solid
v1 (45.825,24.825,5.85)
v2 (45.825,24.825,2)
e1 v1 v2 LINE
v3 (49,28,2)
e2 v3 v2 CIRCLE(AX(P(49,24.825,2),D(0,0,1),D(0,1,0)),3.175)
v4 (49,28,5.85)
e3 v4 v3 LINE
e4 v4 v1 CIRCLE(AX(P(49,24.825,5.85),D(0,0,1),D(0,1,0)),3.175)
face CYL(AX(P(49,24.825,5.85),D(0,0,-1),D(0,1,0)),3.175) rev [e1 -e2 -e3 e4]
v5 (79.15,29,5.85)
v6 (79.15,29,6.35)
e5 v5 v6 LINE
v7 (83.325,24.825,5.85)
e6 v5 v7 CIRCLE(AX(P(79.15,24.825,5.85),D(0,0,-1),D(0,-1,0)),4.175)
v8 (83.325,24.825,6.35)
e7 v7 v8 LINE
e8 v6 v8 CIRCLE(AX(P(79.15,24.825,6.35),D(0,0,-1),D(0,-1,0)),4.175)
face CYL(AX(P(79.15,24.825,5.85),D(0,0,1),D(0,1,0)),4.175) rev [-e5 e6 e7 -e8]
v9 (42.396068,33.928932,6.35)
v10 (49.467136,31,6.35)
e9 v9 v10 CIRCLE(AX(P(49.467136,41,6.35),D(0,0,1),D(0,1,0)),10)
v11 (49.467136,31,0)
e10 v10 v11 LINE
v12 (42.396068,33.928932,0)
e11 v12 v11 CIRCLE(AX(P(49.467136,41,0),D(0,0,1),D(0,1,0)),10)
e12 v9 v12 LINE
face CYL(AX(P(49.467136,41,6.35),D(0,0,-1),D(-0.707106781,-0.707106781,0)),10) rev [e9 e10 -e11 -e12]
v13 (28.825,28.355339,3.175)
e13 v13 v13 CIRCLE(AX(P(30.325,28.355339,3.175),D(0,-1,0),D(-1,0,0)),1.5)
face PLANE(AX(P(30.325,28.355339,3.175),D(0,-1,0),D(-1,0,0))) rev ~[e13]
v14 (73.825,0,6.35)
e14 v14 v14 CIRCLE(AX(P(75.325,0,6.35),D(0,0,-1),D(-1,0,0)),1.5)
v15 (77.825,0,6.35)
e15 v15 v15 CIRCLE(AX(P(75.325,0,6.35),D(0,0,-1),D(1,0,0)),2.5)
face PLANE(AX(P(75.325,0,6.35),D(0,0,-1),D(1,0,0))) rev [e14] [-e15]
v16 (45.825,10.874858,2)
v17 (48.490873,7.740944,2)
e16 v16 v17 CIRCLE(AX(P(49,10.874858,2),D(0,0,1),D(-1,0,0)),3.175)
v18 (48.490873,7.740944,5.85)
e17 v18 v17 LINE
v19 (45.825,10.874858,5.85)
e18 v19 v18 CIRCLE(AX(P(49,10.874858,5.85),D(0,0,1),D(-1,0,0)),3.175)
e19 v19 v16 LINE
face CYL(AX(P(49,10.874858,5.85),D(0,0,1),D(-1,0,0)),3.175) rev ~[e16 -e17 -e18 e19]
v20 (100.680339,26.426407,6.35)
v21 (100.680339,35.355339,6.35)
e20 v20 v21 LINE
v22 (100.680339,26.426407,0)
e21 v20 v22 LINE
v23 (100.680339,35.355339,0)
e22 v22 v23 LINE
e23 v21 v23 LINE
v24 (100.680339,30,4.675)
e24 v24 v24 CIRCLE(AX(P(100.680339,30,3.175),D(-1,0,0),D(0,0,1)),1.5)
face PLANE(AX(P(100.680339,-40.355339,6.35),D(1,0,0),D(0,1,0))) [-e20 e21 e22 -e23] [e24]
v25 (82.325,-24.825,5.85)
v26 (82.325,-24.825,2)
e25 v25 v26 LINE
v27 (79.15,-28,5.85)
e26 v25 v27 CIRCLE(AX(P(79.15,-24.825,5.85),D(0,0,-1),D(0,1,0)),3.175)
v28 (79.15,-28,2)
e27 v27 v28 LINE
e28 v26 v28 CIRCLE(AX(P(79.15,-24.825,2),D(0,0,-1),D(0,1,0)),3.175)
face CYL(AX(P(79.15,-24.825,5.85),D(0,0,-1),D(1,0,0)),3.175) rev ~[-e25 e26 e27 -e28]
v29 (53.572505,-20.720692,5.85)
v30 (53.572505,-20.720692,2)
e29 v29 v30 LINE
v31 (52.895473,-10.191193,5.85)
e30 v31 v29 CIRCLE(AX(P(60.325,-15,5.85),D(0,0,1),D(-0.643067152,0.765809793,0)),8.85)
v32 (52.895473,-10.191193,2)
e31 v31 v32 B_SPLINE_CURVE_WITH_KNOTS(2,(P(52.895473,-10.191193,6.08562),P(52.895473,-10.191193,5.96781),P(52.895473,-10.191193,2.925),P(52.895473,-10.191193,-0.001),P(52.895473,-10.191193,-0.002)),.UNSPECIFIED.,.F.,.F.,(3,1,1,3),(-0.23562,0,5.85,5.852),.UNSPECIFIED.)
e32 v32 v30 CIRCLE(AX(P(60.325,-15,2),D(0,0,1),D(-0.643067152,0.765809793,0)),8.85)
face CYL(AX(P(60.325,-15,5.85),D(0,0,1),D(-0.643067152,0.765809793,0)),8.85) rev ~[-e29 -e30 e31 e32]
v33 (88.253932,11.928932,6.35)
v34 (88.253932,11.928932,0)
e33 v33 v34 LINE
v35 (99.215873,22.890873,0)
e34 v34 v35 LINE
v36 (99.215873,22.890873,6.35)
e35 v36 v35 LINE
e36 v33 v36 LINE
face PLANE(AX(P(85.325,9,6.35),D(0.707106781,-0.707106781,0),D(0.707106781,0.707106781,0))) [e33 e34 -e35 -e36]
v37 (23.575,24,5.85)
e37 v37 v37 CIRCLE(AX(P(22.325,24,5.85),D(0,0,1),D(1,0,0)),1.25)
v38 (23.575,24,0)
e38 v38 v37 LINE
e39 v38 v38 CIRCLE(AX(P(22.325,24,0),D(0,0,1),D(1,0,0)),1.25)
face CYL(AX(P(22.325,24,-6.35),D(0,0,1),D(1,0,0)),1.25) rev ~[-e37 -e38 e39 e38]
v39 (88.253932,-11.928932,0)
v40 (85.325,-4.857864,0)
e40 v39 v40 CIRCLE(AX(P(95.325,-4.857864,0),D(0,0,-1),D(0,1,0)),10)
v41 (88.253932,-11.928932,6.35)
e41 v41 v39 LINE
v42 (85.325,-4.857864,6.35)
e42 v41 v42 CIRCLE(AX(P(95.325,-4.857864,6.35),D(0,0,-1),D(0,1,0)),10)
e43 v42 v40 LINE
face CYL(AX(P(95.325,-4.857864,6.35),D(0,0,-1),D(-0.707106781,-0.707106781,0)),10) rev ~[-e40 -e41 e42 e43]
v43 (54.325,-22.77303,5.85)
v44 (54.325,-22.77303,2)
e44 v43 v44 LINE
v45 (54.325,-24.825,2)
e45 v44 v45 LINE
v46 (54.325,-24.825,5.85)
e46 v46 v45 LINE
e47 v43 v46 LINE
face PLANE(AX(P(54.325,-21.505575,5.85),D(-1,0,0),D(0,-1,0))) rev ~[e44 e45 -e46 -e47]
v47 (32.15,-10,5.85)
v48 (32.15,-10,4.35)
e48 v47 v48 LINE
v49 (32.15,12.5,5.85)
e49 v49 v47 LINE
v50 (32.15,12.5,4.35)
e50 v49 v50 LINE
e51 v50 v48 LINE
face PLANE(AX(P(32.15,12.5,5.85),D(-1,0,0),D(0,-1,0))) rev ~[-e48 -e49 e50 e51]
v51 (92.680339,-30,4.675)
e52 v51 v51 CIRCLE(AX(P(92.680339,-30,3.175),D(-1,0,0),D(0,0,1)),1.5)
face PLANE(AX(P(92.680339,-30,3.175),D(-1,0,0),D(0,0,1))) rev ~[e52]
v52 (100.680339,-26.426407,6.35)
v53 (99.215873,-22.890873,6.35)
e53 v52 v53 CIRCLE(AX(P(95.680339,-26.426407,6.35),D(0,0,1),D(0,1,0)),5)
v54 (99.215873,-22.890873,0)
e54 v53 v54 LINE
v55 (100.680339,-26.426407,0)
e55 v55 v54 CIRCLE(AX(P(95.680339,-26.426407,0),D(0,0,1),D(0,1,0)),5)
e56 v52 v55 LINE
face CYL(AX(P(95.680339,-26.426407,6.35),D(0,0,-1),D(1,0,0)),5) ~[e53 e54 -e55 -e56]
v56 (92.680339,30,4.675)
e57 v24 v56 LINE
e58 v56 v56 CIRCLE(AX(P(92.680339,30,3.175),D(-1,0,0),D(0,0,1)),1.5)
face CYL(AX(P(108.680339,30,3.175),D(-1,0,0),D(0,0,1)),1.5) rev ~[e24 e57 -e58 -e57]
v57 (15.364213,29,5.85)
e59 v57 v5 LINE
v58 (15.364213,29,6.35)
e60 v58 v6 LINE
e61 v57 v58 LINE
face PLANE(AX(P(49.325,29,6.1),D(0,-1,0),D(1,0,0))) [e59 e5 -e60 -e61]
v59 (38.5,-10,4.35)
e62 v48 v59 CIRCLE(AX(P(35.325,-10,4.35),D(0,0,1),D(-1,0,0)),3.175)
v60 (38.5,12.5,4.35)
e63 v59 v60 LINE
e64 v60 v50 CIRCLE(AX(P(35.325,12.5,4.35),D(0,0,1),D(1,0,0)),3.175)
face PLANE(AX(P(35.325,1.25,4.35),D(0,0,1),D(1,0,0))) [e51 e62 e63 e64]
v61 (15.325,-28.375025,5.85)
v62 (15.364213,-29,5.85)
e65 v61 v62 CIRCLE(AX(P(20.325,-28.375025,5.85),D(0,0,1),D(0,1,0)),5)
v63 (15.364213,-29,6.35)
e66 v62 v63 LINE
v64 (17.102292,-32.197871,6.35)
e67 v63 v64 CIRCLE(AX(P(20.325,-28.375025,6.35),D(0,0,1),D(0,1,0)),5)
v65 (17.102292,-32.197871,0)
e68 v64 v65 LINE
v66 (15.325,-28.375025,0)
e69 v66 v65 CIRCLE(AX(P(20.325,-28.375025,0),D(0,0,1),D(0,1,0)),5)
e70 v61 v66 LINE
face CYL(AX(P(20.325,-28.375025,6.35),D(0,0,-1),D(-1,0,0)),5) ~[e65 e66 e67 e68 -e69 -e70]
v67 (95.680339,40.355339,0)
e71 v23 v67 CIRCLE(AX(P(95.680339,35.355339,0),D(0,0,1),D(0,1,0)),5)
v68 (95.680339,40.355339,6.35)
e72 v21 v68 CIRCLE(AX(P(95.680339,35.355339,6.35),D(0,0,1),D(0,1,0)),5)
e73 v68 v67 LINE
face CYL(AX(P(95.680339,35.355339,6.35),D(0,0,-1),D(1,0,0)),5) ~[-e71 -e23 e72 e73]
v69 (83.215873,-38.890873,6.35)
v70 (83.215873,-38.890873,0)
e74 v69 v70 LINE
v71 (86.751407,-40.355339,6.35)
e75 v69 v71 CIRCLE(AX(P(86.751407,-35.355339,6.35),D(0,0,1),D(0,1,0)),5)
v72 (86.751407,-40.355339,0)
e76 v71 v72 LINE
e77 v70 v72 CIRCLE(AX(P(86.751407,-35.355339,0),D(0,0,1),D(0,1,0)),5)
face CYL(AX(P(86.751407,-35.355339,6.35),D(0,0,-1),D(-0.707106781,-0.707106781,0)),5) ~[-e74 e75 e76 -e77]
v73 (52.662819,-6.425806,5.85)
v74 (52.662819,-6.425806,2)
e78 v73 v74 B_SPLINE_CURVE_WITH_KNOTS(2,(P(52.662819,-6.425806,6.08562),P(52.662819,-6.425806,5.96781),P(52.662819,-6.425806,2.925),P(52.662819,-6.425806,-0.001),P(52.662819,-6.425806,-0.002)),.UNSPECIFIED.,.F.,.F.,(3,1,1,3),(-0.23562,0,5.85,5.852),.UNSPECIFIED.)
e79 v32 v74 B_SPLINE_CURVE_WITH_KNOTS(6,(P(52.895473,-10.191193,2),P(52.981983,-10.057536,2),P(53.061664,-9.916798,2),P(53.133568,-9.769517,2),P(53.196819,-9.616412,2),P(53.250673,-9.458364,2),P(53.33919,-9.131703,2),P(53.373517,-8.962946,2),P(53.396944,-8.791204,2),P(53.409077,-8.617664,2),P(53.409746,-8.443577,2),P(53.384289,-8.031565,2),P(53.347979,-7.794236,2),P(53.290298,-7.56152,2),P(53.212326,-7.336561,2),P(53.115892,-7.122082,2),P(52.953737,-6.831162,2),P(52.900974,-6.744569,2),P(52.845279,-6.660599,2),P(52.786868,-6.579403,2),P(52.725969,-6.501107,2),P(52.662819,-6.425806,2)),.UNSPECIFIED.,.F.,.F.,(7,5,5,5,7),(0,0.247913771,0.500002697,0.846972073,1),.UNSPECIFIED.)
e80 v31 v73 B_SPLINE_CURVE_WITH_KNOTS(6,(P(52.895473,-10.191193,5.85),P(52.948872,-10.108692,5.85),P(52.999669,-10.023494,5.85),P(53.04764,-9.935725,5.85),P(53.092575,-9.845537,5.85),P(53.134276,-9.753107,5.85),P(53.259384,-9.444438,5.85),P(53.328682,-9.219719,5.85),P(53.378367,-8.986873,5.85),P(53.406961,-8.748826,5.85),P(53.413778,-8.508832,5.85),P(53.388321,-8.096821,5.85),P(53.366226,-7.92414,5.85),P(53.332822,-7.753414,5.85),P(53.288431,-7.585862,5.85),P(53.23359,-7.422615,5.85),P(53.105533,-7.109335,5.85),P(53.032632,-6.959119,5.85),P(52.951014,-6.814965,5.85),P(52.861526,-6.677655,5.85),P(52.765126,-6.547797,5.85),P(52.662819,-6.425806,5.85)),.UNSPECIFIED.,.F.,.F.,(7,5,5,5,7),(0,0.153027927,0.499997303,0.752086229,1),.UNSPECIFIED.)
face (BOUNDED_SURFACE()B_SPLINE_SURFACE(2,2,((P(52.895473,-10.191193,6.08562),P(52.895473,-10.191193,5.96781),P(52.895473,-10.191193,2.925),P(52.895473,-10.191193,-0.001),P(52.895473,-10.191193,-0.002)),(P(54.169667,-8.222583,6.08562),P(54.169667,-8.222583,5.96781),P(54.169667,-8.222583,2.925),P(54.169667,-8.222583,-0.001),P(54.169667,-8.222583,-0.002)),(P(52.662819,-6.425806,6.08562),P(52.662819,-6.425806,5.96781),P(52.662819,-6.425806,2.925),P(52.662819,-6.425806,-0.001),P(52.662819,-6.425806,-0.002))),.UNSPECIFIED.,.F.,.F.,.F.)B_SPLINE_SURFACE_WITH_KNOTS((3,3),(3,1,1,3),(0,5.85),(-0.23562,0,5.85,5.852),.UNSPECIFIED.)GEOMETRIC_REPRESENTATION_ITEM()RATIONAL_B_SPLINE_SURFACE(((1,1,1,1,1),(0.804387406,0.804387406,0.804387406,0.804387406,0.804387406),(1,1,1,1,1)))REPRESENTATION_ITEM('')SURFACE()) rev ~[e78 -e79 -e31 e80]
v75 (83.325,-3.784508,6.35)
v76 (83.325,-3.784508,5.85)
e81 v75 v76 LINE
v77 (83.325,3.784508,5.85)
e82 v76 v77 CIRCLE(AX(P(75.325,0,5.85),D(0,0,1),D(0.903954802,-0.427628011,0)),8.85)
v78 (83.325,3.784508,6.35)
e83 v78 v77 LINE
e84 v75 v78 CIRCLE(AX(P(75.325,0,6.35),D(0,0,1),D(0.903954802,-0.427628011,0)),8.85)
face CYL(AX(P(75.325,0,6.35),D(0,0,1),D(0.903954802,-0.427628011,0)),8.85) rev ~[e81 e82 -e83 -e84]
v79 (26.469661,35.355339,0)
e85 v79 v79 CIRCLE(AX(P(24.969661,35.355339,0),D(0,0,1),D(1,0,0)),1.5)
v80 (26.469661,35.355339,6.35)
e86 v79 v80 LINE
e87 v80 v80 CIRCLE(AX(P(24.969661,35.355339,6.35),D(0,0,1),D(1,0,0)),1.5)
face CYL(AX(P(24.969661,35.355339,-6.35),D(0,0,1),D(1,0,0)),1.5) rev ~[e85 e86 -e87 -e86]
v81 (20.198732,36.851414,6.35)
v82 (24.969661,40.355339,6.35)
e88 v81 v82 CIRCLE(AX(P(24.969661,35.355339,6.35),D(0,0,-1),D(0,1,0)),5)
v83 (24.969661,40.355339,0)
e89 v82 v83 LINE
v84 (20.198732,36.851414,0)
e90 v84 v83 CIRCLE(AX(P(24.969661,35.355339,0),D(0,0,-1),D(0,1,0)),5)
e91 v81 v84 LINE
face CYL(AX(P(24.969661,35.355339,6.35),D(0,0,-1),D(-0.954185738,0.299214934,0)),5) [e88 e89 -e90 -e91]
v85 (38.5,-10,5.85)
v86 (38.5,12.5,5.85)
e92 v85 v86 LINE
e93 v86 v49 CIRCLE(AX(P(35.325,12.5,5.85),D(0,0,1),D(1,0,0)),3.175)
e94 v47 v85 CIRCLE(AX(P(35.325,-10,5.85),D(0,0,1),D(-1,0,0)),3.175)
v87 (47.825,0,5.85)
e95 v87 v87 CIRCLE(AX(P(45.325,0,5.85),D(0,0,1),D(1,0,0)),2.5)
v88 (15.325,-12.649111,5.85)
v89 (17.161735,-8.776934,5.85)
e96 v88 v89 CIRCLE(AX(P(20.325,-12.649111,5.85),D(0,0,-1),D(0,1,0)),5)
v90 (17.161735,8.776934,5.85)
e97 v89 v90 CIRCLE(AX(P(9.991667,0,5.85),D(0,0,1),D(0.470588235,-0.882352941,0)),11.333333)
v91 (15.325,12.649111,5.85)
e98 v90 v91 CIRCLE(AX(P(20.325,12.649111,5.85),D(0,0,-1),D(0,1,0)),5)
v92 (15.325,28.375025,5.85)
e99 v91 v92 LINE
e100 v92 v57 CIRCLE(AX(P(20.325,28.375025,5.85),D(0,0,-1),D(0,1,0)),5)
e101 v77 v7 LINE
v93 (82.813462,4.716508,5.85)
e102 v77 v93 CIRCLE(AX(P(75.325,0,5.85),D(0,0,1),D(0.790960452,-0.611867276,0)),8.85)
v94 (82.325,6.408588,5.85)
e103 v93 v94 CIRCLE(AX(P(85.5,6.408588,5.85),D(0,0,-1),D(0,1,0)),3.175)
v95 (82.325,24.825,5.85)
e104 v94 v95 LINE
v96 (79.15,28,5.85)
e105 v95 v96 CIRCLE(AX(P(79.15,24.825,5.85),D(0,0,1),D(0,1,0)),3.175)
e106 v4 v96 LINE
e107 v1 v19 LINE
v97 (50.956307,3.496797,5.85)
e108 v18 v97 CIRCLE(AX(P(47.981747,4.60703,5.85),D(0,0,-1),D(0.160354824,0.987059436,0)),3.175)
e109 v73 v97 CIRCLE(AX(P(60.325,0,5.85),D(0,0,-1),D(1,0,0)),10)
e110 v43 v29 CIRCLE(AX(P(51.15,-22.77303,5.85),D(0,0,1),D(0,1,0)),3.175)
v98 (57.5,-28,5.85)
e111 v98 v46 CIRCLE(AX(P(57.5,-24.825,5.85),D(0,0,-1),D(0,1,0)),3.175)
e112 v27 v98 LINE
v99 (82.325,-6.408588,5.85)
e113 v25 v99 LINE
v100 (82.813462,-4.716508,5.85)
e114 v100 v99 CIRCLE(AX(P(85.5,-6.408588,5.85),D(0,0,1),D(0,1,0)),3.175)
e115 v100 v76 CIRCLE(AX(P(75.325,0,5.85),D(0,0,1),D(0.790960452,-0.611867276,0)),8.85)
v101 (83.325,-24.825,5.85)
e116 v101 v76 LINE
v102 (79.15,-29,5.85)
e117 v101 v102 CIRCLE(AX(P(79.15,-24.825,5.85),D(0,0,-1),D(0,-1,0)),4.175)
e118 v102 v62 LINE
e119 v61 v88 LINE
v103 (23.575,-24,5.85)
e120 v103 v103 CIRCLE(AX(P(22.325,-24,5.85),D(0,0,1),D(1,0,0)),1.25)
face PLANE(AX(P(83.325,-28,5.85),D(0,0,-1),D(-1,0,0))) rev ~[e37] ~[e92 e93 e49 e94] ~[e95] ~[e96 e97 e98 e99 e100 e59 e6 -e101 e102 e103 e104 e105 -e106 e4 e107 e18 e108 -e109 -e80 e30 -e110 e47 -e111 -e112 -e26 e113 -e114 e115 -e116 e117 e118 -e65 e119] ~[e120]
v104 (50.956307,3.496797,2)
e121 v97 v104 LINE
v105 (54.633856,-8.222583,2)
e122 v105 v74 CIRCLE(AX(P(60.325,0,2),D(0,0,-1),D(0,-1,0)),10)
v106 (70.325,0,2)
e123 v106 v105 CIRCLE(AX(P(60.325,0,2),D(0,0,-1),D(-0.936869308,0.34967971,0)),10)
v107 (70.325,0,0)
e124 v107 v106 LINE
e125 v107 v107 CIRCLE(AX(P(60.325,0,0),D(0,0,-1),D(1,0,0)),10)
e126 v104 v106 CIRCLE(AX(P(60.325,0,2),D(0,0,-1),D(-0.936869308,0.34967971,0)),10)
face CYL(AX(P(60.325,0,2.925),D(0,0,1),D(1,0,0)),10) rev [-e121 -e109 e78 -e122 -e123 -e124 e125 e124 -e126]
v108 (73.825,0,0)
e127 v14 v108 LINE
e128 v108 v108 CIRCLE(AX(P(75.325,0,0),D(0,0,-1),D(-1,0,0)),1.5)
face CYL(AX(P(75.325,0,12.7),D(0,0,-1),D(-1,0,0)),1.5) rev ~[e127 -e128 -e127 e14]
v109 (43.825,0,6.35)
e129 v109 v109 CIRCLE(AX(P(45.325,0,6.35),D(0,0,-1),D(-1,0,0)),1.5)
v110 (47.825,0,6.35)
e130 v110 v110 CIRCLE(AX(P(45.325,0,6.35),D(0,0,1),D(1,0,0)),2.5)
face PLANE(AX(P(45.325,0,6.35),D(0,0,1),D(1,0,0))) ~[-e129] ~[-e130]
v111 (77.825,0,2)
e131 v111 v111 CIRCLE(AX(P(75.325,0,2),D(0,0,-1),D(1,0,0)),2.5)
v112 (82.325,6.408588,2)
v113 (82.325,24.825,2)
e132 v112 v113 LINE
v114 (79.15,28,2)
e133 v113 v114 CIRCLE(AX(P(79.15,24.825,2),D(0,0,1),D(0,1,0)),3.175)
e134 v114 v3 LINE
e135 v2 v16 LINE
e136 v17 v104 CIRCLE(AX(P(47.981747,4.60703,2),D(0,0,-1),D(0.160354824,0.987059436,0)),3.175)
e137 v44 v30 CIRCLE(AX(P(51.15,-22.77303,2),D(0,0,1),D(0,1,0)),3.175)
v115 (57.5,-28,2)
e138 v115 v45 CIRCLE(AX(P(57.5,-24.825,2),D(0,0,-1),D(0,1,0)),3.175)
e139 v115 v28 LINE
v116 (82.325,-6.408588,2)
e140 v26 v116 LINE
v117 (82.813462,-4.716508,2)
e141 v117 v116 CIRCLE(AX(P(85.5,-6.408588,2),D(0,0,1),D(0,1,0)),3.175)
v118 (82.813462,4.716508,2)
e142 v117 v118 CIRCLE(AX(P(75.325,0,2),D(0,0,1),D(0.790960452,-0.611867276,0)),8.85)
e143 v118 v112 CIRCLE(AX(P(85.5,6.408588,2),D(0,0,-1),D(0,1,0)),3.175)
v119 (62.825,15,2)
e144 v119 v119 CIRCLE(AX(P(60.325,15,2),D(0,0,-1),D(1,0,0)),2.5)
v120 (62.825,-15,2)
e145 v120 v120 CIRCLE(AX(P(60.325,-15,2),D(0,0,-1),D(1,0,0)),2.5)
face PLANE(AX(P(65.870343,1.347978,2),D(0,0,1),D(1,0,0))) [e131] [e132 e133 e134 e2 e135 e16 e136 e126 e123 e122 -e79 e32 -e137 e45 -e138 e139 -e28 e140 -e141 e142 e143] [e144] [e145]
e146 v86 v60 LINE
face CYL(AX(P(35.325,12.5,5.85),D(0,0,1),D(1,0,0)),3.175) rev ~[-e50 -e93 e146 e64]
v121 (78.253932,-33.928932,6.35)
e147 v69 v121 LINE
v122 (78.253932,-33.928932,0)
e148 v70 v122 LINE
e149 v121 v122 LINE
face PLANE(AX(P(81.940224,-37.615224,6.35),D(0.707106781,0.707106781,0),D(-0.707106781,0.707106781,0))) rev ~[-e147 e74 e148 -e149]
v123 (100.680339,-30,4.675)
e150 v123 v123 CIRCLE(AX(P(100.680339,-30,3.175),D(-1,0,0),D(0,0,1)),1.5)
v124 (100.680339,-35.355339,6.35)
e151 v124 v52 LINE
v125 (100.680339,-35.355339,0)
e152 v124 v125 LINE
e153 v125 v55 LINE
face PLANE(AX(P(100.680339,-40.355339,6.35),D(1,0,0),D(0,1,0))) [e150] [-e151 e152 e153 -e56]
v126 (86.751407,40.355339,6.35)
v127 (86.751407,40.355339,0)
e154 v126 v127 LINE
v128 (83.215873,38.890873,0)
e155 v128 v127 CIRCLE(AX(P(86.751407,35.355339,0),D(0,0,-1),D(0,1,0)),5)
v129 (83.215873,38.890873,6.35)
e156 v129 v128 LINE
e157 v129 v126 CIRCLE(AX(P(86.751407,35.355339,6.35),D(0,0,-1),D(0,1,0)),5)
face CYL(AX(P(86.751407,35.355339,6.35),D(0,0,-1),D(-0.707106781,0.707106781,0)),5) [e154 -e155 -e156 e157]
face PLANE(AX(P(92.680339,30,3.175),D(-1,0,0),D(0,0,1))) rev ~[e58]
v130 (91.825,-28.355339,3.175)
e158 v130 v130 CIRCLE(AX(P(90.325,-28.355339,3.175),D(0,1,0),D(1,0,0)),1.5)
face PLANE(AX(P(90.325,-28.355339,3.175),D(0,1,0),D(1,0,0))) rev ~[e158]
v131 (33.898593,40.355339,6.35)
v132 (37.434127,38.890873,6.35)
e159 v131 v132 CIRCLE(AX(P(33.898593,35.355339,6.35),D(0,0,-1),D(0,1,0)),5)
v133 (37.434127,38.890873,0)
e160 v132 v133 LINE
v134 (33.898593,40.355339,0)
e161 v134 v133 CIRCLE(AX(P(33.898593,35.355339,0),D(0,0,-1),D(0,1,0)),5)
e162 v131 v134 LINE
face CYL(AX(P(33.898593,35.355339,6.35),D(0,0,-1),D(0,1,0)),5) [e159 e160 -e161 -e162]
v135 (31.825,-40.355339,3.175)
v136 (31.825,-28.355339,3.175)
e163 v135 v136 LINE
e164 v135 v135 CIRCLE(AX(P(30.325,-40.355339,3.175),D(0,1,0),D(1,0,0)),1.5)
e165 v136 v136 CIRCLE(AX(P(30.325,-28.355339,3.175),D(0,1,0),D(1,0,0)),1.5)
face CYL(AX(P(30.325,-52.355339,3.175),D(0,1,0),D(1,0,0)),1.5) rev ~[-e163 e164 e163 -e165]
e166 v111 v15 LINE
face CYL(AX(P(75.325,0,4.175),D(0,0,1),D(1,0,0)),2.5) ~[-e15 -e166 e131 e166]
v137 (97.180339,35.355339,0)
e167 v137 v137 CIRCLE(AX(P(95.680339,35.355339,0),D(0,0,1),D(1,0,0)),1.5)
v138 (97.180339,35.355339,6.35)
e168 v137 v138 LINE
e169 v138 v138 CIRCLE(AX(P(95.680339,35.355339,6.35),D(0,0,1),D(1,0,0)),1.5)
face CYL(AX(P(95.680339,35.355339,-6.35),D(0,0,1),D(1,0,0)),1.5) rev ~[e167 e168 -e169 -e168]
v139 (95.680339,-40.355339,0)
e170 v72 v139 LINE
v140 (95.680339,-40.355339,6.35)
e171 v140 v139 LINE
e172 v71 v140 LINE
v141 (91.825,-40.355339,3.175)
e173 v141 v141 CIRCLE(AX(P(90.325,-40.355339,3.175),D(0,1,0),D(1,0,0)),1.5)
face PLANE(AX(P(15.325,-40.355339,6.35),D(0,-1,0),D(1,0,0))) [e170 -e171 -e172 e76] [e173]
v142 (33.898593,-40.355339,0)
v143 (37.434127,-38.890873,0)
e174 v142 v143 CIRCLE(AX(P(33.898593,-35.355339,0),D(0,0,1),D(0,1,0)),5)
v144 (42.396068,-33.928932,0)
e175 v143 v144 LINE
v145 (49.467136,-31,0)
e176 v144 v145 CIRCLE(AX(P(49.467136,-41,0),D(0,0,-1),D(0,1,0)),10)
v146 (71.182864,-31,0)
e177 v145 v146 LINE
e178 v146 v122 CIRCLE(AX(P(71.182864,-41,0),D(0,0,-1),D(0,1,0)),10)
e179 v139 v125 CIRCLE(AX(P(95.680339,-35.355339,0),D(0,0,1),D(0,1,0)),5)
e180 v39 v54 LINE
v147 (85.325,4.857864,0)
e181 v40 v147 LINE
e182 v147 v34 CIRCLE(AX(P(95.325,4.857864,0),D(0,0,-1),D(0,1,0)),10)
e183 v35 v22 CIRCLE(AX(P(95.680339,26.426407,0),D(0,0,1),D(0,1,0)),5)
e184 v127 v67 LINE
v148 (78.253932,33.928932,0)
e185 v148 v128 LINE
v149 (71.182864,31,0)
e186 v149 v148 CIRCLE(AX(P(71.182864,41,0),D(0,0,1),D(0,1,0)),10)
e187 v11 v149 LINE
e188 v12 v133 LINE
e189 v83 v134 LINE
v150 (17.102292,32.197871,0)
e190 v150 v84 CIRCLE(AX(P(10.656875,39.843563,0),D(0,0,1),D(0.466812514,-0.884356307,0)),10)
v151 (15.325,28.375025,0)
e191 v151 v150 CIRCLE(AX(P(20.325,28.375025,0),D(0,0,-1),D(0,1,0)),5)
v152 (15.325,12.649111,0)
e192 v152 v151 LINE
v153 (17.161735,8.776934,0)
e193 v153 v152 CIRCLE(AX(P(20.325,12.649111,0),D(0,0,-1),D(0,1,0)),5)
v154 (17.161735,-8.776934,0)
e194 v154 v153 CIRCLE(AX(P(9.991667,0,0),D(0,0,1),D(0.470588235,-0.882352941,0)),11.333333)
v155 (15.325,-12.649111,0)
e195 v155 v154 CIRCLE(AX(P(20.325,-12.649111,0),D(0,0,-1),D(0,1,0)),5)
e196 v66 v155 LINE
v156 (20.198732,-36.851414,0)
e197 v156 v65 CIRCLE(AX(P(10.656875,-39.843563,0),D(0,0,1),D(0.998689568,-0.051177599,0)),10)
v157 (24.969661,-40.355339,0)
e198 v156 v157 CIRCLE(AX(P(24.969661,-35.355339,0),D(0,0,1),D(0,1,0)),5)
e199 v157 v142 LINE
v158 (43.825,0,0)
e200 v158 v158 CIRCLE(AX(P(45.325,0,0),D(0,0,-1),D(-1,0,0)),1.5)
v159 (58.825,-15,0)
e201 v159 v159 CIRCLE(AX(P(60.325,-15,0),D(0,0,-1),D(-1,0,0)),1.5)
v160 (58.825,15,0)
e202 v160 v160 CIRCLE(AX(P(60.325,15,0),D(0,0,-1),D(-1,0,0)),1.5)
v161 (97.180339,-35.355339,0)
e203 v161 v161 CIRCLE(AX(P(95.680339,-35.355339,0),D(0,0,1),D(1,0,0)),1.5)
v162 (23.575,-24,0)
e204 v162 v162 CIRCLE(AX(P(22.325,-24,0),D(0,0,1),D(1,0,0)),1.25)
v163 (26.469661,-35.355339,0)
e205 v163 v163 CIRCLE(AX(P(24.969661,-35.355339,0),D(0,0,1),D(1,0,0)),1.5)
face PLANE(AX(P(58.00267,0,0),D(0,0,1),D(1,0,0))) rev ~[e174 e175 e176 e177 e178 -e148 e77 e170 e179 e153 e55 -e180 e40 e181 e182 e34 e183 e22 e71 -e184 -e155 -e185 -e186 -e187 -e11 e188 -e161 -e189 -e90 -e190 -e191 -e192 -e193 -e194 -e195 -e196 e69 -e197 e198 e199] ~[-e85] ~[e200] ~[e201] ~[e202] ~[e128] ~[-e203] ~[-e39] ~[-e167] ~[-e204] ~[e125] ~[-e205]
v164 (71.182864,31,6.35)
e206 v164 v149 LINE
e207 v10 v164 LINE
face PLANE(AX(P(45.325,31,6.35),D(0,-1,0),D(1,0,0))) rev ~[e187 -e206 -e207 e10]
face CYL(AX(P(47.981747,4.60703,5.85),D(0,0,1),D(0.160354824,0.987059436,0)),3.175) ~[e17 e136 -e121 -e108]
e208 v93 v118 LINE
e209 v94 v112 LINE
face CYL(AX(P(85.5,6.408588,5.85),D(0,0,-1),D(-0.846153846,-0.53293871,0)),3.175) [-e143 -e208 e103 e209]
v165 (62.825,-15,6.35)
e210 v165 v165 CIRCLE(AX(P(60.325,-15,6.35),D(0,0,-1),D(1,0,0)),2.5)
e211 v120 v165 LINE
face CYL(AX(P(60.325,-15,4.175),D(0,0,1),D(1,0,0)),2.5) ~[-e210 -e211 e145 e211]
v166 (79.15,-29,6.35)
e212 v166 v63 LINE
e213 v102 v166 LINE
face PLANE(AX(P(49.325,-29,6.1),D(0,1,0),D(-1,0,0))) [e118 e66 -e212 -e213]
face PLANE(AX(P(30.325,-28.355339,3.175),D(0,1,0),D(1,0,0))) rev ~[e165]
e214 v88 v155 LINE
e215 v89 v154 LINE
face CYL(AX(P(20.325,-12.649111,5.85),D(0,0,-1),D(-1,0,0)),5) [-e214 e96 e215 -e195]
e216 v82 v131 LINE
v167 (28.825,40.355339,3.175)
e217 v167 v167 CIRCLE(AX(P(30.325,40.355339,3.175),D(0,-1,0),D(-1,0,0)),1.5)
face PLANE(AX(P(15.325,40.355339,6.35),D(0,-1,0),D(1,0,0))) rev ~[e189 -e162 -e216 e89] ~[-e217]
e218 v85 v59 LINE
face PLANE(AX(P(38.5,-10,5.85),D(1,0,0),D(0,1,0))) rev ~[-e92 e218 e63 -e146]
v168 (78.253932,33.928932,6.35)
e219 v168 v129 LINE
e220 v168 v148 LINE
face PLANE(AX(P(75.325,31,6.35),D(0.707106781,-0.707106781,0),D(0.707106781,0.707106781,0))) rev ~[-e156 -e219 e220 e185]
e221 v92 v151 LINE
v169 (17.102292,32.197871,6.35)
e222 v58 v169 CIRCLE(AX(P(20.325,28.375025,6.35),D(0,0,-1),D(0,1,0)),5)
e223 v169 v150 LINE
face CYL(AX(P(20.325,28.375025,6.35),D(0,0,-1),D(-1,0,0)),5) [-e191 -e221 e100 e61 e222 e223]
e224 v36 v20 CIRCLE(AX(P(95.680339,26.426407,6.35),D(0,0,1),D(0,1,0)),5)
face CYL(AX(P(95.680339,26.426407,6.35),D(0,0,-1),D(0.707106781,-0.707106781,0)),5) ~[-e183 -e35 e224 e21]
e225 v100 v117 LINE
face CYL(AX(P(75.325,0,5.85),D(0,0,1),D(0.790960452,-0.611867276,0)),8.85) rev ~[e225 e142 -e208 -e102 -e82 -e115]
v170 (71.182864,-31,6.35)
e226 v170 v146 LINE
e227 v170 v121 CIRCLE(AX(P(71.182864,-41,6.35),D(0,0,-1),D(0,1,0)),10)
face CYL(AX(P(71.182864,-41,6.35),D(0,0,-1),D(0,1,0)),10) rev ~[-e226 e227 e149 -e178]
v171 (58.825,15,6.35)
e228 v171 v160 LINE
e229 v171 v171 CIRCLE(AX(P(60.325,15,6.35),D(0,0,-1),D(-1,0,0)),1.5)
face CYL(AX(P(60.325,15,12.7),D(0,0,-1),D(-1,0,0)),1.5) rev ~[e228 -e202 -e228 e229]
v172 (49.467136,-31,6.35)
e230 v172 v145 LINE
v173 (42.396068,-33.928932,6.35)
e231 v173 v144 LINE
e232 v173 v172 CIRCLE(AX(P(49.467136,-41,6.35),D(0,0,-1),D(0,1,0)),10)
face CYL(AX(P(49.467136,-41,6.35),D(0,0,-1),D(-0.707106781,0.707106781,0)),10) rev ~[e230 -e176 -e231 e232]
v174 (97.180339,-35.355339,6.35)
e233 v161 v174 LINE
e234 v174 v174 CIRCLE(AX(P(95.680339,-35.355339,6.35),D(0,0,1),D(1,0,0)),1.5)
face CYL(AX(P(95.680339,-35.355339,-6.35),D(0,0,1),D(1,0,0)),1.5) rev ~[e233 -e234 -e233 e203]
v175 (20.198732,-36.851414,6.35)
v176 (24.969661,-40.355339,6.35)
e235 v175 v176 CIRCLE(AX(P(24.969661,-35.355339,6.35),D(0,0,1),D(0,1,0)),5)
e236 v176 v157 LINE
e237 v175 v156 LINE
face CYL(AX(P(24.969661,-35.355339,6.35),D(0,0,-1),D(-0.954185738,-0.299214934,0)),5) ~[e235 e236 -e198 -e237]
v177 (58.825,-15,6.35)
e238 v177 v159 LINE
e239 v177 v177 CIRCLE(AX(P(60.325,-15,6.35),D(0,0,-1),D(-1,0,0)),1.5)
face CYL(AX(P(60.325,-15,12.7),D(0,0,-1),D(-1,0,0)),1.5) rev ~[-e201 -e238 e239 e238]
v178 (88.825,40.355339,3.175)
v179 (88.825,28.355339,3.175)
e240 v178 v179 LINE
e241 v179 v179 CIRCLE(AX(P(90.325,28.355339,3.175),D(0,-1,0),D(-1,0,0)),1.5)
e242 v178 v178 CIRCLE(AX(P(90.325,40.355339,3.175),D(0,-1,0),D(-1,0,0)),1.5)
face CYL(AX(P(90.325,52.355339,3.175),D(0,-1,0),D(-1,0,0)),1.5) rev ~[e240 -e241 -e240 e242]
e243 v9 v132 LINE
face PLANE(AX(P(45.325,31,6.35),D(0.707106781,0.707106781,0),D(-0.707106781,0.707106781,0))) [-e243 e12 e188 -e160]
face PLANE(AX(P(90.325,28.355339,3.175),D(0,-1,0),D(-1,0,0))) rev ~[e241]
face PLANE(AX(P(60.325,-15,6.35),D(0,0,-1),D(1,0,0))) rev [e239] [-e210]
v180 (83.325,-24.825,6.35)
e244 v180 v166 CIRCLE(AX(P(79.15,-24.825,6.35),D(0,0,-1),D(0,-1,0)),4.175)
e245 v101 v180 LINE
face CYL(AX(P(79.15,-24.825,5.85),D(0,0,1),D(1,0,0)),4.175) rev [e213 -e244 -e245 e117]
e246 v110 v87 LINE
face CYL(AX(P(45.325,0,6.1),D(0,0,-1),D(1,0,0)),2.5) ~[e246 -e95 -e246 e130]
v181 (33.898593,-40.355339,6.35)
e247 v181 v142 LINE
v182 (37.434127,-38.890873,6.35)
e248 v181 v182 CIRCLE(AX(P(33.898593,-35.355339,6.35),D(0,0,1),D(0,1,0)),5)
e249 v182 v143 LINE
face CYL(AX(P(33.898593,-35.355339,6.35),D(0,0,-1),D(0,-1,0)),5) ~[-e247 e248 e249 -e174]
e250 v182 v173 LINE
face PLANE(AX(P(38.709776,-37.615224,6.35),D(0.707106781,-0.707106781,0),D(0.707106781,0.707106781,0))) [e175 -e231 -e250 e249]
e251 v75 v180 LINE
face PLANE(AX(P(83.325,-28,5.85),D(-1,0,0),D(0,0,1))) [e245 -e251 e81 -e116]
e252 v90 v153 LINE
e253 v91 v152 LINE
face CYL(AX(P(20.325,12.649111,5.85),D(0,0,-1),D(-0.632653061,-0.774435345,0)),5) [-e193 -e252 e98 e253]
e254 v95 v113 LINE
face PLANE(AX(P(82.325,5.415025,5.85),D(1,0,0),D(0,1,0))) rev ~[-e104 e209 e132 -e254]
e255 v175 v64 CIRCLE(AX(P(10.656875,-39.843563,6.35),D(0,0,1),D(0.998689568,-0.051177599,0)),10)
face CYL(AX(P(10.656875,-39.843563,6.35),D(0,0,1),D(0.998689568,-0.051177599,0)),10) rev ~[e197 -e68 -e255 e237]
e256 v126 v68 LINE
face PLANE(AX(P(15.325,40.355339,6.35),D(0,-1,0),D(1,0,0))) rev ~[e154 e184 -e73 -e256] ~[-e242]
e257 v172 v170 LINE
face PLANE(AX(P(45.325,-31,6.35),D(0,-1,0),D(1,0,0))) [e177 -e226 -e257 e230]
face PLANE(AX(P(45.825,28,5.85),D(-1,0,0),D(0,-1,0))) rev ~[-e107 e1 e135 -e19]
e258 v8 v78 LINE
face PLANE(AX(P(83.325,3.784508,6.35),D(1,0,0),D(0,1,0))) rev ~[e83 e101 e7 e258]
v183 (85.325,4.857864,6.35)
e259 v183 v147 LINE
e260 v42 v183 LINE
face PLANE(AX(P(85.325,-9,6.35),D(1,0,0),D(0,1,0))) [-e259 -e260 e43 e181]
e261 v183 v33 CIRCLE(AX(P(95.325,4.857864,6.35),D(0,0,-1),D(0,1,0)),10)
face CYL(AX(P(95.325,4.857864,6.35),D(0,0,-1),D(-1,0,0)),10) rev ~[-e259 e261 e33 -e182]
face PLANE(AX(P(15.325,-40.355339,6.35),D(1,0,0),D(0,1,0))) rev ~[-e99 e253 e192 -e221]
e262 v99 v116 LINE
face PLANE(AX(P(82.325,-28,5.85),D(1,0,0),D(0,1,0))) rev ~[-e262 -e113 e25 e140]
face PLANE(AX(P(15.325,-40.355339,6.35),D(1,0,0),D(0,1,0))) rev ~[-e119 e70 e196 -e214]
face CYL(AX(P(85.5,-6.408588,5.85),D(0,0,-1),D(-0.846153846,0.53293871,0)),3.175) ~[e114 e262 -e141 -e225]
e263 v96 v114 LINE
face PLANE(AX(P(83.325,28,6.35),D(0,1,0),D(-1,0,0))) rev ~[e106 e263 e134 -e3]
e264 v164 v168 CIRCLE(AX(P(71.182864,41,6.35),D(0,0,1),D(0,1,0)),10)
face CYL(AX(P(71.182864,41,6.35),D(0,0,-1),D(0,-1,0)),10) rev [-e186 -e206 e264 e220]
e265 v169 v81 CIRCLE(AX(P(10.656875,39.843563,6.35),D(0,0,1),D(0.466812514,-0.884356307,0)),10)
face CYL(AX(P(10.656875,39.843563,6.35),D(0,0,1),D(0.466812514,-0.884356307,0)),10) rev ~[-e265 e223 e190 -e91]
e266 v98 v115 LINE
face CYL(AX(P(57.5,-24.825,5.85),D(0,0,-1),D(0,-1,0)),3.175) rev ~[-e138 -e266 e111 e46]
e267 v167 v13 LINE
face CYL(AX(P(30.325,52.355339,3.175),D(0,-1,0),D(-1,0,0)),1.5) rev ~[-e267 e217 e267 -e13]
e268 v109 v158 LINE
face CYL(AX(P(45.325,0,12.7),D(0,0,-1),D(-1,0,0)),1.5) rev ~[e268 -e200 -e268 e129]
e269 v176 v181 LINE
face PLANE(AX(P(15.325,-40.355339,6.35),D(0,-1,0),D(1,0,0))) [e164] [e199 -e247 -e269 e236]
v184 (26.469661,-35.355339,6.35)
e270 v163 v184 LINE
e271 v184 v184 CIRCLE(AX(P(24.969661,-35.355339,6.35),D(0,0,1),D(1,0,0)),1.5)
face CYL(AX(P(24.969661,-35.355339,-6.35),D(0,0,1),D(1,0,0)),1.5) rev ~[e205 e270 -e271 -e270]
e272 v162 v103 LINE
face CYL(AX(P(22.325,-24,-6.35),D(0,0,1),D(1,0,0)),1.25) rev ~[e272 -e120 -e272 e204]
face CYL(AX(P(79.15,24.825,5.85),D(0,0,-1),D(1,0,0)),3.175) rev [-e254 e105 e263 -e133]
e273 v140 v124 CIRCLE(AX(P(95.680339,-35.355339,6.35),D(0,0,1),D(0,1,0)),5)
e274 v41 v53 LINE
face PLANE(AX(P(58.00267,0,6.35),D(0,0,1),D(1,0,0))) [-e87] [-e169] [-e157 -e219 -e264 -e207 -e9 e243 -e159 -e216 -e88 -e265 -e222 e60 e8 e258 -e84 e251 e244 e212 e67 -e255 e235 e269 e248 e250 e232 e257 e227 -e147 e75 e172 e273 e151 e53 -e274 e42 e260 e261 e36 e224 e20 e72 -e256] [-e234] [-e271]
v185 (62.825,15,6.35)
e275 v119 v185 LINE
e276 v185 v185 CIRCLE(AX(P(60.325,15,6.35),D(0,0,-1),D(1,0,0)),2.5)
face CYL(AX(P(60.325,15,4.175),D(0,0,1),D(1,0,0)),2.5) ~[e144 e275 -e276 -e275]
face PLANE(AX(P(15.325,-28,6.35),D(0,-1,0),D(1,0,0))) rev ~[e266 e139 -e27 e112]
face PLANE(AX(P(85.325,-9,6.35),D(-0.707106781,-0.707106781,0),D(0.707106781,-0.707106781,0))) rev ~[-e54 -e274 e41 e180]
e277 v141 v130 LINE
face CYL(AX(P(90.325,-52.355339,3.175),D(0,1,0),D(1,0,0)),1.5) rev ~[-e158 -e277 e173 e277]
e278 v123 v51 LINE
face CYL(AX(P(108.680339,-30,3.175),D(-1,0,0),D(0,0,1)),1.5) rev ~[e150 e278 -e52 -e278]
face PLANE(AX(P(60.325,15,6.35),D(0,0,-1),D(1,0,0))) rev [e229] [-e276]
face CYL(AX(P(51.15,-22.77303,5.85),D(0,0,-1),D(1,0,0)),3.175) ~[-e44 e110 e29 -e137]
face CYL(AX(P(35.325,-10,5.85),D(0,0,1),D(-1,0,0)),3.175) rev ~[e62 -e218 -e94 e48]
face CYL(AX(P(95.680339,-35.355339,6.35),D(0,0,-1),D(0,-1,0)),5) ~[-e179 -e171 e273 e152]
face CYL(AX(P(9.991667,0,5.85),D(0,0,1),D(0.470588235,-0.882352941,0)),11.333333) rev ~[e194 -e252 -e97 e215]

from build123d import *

# Parameters (mm, degrees)
SKETCH1_W                 = 85.355339059
SKETCH1_H                 = 80.710678118
BOSS_EXTRUDE1_DEPTH       = 6.35
CUT_EXTRUDE1_DEPTH        = 0.5
CUT_EXTRUDE2_DEPTH        = 3.85
SKETCH4_W                 = 68
SKETCH4_H                 = 0.5
CUT_EXTRUDE3_DEPTH        = 1
SKETCH5_W                 = 68
SKETCH5_H                 = 0.5
CUT_EXTRUDE4_DEPTH        = 1
CUT_EXTRUDE5_DEPTH        = 7.35
SKETCH7_W                 = 30
SKETCH7_H                 = 9.355339059
CUT_EXTRUDE6_DEPTH        = 7.35
SKETCH8_W                 = 15.355339059
SKETCH8_H                 = 18
CUT_EXTRUDE7_DEPTH        = 7.35
CUT_EXTRUDE8_DEPTH        = 7.35
SKETCH10_W                = 30
SKETCH10_H                = 9.355339059
CUT_EXTRUDE9_DEPTH        = 7.35
CUT_EXTRUDE10_DEPTH       = 6.85
CUT_EXTRUDE11_DEPTH       = 1.5
DRAFT1_ANGLE              = 45
DRAFT2_ANGLE              = 45
DRAFT3_ANGLE              = 45
SKETCH13_W                = 10
SKETCH13_H                = 5.85
SKETCH14_W                = 2.5
SKETCH14_H                = 4.35
SKETCH15_W                = 2.5
SKETCH15_H                = 4.35
SKETCH16_W                = 2.5
SKETCH16_H                = 4.35
SKETCH17_W                = 2.5
SKETCH17_H                = 0.5
F_2_CLEARANCE_HOLE1_D     = 2.5
F_2_CLEARANCE_HOLE1_DEPTH = 6.35
F_3_CLEARANCE_HOLE1_D     = 3
F_3_CLEARANCE_HOLE1_DEPTH = 6.35
F_3_CLEARANCE_HOLE2_D     = 3
F_3_CLEARANCE_HOLE2_DEPTH = 6.35
F_3_CLEARANCE_HOLE3_D     = 3
F_3_CLEARANCE_HOLE3_DEPTH = 12
F_3_CLEARANCE_HOLE4_D     = 3
F_3_CLEARANCE_HOLE4_DEPTH = 12
F_3_CLEARANCE_HOLE5_D     = 3
F_3_CLEARANCE_HOLE5_DEPTH = 8
FILLET1_R                 = 3.175
FILLET2_R                 = 4.175
FILLET3_R                 = 5
FILLET4_R                 = 10


with BuildPart() as part:
    # Sketch1 → Boss-Extrude1 (new body)
    with BuildSketch(Plane.XY.offset(6.35)):
        with Locations((58.00266953, 0)):
            Rectangle(SKETCH1_W, SKETCH1_H)
    extrude(amount=-BOSS_EXTRUDE1_DEPTH)

    # Sketch2 → Cut-Extrude1 (cut)
    with BuildSketch(Plane.XY.offset(6.35)):
        with BuildLine():
            Line((15.325, -28), (83.325, -28))
            Line((83.325, -28), (83.325, -3.784507895))
            ThreePointArc((83.325, -3.784507895), (84.175, 0), (83.325, 3.784507894))
            Line((83.325, 3.784507894), (83.325, 28))
            Line((83.325, 28), (15.325, 28))
            Line((15.325, 28), (15.325, -28))
        make_face()
    extrude(amount=-CUT_EXTRUDE1_DEPTH, mode=Mode.SUBTRACT)

    # Sketch3 → Cut-Extrude2 (cut)
    with BuildSketch(Plane.XY.offset(5.85)):
        with BuildLine():
            Line((82.325, 5.415025392), (82.325, 28))
            Line((82.325, 28), (45.825, 28))
            Line((45.825, 28), (45.825, 10.874857598))
            ThreePointArc((45.825, 10.874857598), (46.581622253, 8.817657055), (48.490873433, 7.740943889))
            ThreePointArc((48.490873433, 7.740943889), (50.727145491, 6.201837814), (50.956306919, 3.4967971))
            ThreePointArc((50.956306919, 3.4967971), (69.866260129, 2.994053299), (54.63385571, -8.222583333))
            ThreePointArc((54.63385571, -8.222583333), (51.477391425, -14.794275673), (54.325, -21.505574533))
            Line((54.325, -21.505574533), (54.325, -28))
            Line((54.325, -28), (82.325, -28))
            Line((82.325, -28), (82.325, -5.415025392))
            ThreePointArc((82.325, -5.415025392), (84.175, 0), (82.325, 5.415025392))
        make_face()
    extrude(amount=-CUT_EXTRUDE2_DEPTH, mode=Mode.SUBTRACT)

    # Sketch4 → Cut-Extrude3 (cut)
    with BuildSketch(Plane.XZ.offset(-28)):
        with Locations((49.325, 6.1)):
            Rectangle(SKETCH4_W, SKETCH4_H)
    extrude(amount=-CUT_EXTRUDE3_DEPTH, mode=Mode.SUBTRACT)

    # Sketch5 → Cut-Extrude4 (cut)
    with BuildSketch(Plane(origin=(0, -28, 0), x_dir=(-1, 0, 0), z_dir=(0, 1, 0))):
        with Locations((-49.325, 6.1)):
            Rectangle(SKETCH5_W, SKETCH5_H)
    extrude(amount=-CUT_EXTRUDE4_DEPTH, mode=Mode.SUBTRACT)

    # Sketch6 → Cut-Extrude5 (cut, through all)
    with BuildSketch(Plane.XY.offset(6.35)):
        with BuildLine():
            Line((20.643770546, 40.355339059), (15.325, 40.355339059))
            Line((15.325, 40.355339059), (15.325, 31))
            ThreePointArc((15.325, 31), (19.350148184, 34.901195315), (20.643770546, 40.355339059))
        make_face()
    extrude(amount=-CUT_EXTRUDE5_DEPTH, mode=Mode.SUBTRACT)

    # Sketch7 → Cut-Extrude6 (cut, through all)
    with BuildSketch(Plane.XY.offset(6.35)):
        with Locations((60.325, 35.67766953)):
            Rectangle(SKETCH7_W, SKETCH7_H)
    extrude(amount=-CUT_EXTRUDE6_DEPTH, mode=Mode.SUBTRACT)

    # Sketch8 → Cut-Extrude7 (cut, through all)
    with BuildSketch(Plane.XY.offset(6.35)):
        with Locations((93.002669529, 0)):
            Rectangle(SKETCH8_W, SKETCH8_H)
    extrude(amount=-CUT_EXTRUDE7_DEPTH, mode=Mode.SUBTRACT)

    # Sketch9 → Cut-Extrude8 (cut, through all)
    with BuildSketch(Plane.XY.offset(6.35)):
        with BuildLine():
            Line((15.325, -31), (15.325, -40.355339059))
            Line((15.325, -40.355339059), (20.643770546, -40.355339059))
            ThreePointArc((20.643770546, -40.355339059), (19.350148184, -34.901195315), (15.325, -31))
        make_face()
    extrude(amount=-CUT_EXTRUDE8_DEPTH, mode=Mode.SUBTRACT)

    # Sketch10 → Cut-Extrude9 (cut, through all)
    with BuildSketch(Plane.XY.offset(6.35)):
        with Locations((60.325, -35.67766953)):
            Rectangle(SKETCH10_W, SKETCH10_H)
    extrude(amount=-CUT_EXTRUDE9_DEPTH, mode=Mode.SUBTRACT)

    # Sketch11 → Cut-Extrude10 (cut, through all)
    with BuildSketch(Plane.XY.offset(5.85)):
        with BuildLine():
            Line((15.325, 10), (15.325, -10))
            ThreePointArc((15.325, -10), (21.325, 0), (15.325, 10))
        make_face()
    extrude(amount=-CUT_EXTRUDE10_DEPTH, mode=Mode.SUBTRACT)

    # Sketch12 → Cut-Extrude11 (cut)
    with BuildSketch(Plane.XY.offset(5.85)):
        with BuildLine():
            Line((32.150000014, 12.5), (32.150000014, -10))
            ThreePointArc((32.150000014, -10), (35.325000015, -13.175000001), (38.500000016, -10))
            Line((38.500000016, -10), (38.500000016, 12.5))
            ThreePointArc((38.500000016, 12.5), (35.325000015, 15.675000001), (32.150000014, 12.5))
        make_face()
    extrude(amount=-CUT_EXTRUDE11_DEPTH, mode=Mode.SUBTRACT)

    # Draft1
    draft1_faces = [part.faces().sort_by_distance(p)[0] for p in [
        (45.325, 35.677669529, 3.175),
        (75.325, 35.677669529, 3.175),
    ]]
    draft(draft1_faces, Plane(origin=(45.325, 31, 0), x_dir=(1, 0, 0), z_dir=(0, 1, 0)), DRAFT1_ANGLE)

    # Draft2
    draft2_faces = [part.faces().sort_by_distance(p)[0] for p in [
        (45.325, -35.67766953, 3.175),
        (75.325, -35.677669529, 3.175),
    ]]
    draft(draft2_faces, Plane(origin=(75.325, -31, 0), x_dir=(0, 0, -1), z_dir=(0, -1, 0)), DRAFT2_ANGLE)

    # Draft3
    draft3_faces = [part.faces().sort_by_distance(p)[0] for p in [
        (93.002669529, 9, 3.175),
        (93.002669529, -9, 3.175),
    ]]
    draft(draft3_faces, Plane(origin=(85.325, 9, 0), x_dir=(0, 0, 1), z_dir=(1, 0, 0)), DRAFT3_ANGLE)

    # Sketch13 → Cut-Revolve1 (revolve, cut)
    with BuildSketch(Plane.XZ):
        with Locations((65.325, 2.925)):
            Rectangle(SKETCH13_W, SKETCH13_H)
    revolve(axis=Axis((60.325, 0, 5.85), (0, 0, -1)), mode=Mode.SUBTRACT)

    # Sketch14 → Revolve1 (revolve)
    with BuildSketch(Plane.XZ.offset(-15)):
        with Locations((61.575, 4.175)):
            Rectangle(SKETCH14_W, SKETCH14_H)
    revolve(axis=Axis((60.325, 15, 6.35), (0, 0, -1)))

    # Sketch15 → Revolve2 (revolve)
    with BuildSketch(Plane.XZ):
        with Locations((76.575, 4.175)):
            Rectangle(SKETCH15_W, SKETCH15_H)
    revolve(axis=Axis((75.325, 0, 6.35), (0, 0, -1)))

    # Sketch16 → Revolve3 (revolve)
    with BuildSketch(Plane.XZ.offset(15)):
        with Locations((61.575, 4.175)):
            Rectangle(SKETCH16_W, SKETCH16_H)
    revolve(axis=Axis((60.325, -15, 6.35), (0, 0, -1)))

    # Sketch17 → Revolve4 (revolve)
    with BuildSketch(Plane(origin=(0, 0, 0), x_dir=(1, 0, 0), z_dir=(0, 1, 0))):
        with Locations((46.575, -6.1)):
            Rectangle(SKETCH17_W, SKETCH17_H)
    revolve(axis=Axis((45.325, 0, 5.85), (0, 0, 1)))

    # #2 Clearance Hole1
    with Locations(Plane(origin=(0, 0, 0), x_dir=(-1, 0, 0), z_dir=(0, 0, -1))):
        with Locations((-22.325, -24), (-22.325, 24)):
            Hole(F_2_CLEARANCE_HOLE1_D / 2, depth=F_2_CLEARANCE_HOLE1_DEPTH)

    # #3 Clearance Hole1
    with Locations(Plane.XY.offset(6.35)):
        with Locations((45.325, 0), (60.325, 15), (75.325, 0), (60.325, -15)):
            Hole(F_3_CLEARANCE_HOLE1_D / 2, depth=F_3_CLEARANCE_HOLE1_DEPTH)

    # #3 Clearance Hole2
    with Locations(Plane(origin=(0, 0, 0), x_dir=(-1, 0, 0), z_dir=(0, 0, -1))):
        with Locations((-24.969660941, 35.355339059), (-95.680339059, 35.355339059), (-95.680339059, -35.355339059), (-24.969660941, -35.355339059)):
            Hole(F_3_CLEARANCE_HOLE2_D / 2, depth=F_3_CLEARANCE_HOLE2_DEPTH)

    # #3 Clearance Hole3
    with Locations(Plane(origin=(0, -40.355339059, 0), x_dir=(-1, 0, 0), z_dir=(0, -1, 0))):
        with Locations((-30.325, -3.175), (-90.325, -3.175)):
            Hole(F_3_CLEARANCE_HOLE3_D / 2, depth=F_3_CLEARANCE_HOLE3_DEPTH)

    # #3 Clearance Hole4
    with Locations(Plane(origin=(0, 40.355339059, 0), x_dir=(1, 0, 0), z_dir=(0, 1, 0))):
        with Locations((90.325, -3.175), (30.325, -3.175)):
            Hole(F_3_CLEARANCE_HOLE4_D / 2, depth=F_3_CLEARANCE_HOLE4_DEPTH)

    # #3 Clearance Hole5
    with Locations(Plane(origin=(100.680339059, 0, 0), x_dir=(0, 0, -1), z_dir=(1, 0, 0))):
        with Locations((-3.175, -30), (-3.175, 30)):
            Hole(F_3_CLEARANCE_HOLE5_D / 2, depth=F_3_CLEARANCE_HOLE5_DEPTH)

    # Fillet1
    fillet1_edges = [part.edges().sort_by_distance(p)[0] for p in [
        (82.325, 5.415025392, 3.925),
        (82.325, -5.415025392, 3.925),
        (82.325, -28, 3.925),
        (54.325, -28, 3.925),
        (54.325, -21.505574533, 3.925),
        (54.63385571, -8.222583333, 3.925),
        (45.825, 28, 3.925),
        (82.325, 28, 3.925),
    ]]
    fillet(fillet1_edges, radius=FILLET1_R)

    # Fillet2
    fillet2_edges = [part.edges().sort_by_distance(p)[0] for p in [
        (83.325, 29, 6.1),
        (83.325, -29, 6.1),
    ]]
    fillet(fillet2_edges, radius=FILLET2_R)

    # Fillet3
    fillet3_edges = [part.edges().sort_by_distance(p)[0] for p in [
        (35.969660941, -40.355339059, 3.175),
        (84.680339059, 40.355339059, 3.175),
        (100.680339059, 40.355339059, 3.175),
        (100.680339059, -24.355339059, 3.175),
        (15.325, 10, 2.925),
        (15.325, -10, 2.925),
        (100.680339059, 24.355339059, 3.175),
        (100.680339059, -40.355339059, 3.175),
        (35.969660941, 40.355339059, 3.175),
        (84.680339059, -40.355339059, 3.175),
        (20.643770546, 40.355339059, 3.175),
        (15.325, 31, 3.175),
        (15.325, -31, 3.175),
        (20.643770546, -40.355339059, 3.175),
    ]]
    fillet(fillet3_edges, radius=FILLET3_R)

    # Fillet4
    fillet4_edges = [part.edges().sort_by_distance(p)[0] for p in [
        (75.325, 31, 3.175),
        (45.325, 31, 3.175),
        (85.325, -9, 3.175),
        (85.325, 9, 3.175),
        (45.325, -31, 3.175),
        (75.325, -31, 3.175),
    ]]
    fillet(fillet4_edges, radius=FILLET4_R)


solid = part.part
